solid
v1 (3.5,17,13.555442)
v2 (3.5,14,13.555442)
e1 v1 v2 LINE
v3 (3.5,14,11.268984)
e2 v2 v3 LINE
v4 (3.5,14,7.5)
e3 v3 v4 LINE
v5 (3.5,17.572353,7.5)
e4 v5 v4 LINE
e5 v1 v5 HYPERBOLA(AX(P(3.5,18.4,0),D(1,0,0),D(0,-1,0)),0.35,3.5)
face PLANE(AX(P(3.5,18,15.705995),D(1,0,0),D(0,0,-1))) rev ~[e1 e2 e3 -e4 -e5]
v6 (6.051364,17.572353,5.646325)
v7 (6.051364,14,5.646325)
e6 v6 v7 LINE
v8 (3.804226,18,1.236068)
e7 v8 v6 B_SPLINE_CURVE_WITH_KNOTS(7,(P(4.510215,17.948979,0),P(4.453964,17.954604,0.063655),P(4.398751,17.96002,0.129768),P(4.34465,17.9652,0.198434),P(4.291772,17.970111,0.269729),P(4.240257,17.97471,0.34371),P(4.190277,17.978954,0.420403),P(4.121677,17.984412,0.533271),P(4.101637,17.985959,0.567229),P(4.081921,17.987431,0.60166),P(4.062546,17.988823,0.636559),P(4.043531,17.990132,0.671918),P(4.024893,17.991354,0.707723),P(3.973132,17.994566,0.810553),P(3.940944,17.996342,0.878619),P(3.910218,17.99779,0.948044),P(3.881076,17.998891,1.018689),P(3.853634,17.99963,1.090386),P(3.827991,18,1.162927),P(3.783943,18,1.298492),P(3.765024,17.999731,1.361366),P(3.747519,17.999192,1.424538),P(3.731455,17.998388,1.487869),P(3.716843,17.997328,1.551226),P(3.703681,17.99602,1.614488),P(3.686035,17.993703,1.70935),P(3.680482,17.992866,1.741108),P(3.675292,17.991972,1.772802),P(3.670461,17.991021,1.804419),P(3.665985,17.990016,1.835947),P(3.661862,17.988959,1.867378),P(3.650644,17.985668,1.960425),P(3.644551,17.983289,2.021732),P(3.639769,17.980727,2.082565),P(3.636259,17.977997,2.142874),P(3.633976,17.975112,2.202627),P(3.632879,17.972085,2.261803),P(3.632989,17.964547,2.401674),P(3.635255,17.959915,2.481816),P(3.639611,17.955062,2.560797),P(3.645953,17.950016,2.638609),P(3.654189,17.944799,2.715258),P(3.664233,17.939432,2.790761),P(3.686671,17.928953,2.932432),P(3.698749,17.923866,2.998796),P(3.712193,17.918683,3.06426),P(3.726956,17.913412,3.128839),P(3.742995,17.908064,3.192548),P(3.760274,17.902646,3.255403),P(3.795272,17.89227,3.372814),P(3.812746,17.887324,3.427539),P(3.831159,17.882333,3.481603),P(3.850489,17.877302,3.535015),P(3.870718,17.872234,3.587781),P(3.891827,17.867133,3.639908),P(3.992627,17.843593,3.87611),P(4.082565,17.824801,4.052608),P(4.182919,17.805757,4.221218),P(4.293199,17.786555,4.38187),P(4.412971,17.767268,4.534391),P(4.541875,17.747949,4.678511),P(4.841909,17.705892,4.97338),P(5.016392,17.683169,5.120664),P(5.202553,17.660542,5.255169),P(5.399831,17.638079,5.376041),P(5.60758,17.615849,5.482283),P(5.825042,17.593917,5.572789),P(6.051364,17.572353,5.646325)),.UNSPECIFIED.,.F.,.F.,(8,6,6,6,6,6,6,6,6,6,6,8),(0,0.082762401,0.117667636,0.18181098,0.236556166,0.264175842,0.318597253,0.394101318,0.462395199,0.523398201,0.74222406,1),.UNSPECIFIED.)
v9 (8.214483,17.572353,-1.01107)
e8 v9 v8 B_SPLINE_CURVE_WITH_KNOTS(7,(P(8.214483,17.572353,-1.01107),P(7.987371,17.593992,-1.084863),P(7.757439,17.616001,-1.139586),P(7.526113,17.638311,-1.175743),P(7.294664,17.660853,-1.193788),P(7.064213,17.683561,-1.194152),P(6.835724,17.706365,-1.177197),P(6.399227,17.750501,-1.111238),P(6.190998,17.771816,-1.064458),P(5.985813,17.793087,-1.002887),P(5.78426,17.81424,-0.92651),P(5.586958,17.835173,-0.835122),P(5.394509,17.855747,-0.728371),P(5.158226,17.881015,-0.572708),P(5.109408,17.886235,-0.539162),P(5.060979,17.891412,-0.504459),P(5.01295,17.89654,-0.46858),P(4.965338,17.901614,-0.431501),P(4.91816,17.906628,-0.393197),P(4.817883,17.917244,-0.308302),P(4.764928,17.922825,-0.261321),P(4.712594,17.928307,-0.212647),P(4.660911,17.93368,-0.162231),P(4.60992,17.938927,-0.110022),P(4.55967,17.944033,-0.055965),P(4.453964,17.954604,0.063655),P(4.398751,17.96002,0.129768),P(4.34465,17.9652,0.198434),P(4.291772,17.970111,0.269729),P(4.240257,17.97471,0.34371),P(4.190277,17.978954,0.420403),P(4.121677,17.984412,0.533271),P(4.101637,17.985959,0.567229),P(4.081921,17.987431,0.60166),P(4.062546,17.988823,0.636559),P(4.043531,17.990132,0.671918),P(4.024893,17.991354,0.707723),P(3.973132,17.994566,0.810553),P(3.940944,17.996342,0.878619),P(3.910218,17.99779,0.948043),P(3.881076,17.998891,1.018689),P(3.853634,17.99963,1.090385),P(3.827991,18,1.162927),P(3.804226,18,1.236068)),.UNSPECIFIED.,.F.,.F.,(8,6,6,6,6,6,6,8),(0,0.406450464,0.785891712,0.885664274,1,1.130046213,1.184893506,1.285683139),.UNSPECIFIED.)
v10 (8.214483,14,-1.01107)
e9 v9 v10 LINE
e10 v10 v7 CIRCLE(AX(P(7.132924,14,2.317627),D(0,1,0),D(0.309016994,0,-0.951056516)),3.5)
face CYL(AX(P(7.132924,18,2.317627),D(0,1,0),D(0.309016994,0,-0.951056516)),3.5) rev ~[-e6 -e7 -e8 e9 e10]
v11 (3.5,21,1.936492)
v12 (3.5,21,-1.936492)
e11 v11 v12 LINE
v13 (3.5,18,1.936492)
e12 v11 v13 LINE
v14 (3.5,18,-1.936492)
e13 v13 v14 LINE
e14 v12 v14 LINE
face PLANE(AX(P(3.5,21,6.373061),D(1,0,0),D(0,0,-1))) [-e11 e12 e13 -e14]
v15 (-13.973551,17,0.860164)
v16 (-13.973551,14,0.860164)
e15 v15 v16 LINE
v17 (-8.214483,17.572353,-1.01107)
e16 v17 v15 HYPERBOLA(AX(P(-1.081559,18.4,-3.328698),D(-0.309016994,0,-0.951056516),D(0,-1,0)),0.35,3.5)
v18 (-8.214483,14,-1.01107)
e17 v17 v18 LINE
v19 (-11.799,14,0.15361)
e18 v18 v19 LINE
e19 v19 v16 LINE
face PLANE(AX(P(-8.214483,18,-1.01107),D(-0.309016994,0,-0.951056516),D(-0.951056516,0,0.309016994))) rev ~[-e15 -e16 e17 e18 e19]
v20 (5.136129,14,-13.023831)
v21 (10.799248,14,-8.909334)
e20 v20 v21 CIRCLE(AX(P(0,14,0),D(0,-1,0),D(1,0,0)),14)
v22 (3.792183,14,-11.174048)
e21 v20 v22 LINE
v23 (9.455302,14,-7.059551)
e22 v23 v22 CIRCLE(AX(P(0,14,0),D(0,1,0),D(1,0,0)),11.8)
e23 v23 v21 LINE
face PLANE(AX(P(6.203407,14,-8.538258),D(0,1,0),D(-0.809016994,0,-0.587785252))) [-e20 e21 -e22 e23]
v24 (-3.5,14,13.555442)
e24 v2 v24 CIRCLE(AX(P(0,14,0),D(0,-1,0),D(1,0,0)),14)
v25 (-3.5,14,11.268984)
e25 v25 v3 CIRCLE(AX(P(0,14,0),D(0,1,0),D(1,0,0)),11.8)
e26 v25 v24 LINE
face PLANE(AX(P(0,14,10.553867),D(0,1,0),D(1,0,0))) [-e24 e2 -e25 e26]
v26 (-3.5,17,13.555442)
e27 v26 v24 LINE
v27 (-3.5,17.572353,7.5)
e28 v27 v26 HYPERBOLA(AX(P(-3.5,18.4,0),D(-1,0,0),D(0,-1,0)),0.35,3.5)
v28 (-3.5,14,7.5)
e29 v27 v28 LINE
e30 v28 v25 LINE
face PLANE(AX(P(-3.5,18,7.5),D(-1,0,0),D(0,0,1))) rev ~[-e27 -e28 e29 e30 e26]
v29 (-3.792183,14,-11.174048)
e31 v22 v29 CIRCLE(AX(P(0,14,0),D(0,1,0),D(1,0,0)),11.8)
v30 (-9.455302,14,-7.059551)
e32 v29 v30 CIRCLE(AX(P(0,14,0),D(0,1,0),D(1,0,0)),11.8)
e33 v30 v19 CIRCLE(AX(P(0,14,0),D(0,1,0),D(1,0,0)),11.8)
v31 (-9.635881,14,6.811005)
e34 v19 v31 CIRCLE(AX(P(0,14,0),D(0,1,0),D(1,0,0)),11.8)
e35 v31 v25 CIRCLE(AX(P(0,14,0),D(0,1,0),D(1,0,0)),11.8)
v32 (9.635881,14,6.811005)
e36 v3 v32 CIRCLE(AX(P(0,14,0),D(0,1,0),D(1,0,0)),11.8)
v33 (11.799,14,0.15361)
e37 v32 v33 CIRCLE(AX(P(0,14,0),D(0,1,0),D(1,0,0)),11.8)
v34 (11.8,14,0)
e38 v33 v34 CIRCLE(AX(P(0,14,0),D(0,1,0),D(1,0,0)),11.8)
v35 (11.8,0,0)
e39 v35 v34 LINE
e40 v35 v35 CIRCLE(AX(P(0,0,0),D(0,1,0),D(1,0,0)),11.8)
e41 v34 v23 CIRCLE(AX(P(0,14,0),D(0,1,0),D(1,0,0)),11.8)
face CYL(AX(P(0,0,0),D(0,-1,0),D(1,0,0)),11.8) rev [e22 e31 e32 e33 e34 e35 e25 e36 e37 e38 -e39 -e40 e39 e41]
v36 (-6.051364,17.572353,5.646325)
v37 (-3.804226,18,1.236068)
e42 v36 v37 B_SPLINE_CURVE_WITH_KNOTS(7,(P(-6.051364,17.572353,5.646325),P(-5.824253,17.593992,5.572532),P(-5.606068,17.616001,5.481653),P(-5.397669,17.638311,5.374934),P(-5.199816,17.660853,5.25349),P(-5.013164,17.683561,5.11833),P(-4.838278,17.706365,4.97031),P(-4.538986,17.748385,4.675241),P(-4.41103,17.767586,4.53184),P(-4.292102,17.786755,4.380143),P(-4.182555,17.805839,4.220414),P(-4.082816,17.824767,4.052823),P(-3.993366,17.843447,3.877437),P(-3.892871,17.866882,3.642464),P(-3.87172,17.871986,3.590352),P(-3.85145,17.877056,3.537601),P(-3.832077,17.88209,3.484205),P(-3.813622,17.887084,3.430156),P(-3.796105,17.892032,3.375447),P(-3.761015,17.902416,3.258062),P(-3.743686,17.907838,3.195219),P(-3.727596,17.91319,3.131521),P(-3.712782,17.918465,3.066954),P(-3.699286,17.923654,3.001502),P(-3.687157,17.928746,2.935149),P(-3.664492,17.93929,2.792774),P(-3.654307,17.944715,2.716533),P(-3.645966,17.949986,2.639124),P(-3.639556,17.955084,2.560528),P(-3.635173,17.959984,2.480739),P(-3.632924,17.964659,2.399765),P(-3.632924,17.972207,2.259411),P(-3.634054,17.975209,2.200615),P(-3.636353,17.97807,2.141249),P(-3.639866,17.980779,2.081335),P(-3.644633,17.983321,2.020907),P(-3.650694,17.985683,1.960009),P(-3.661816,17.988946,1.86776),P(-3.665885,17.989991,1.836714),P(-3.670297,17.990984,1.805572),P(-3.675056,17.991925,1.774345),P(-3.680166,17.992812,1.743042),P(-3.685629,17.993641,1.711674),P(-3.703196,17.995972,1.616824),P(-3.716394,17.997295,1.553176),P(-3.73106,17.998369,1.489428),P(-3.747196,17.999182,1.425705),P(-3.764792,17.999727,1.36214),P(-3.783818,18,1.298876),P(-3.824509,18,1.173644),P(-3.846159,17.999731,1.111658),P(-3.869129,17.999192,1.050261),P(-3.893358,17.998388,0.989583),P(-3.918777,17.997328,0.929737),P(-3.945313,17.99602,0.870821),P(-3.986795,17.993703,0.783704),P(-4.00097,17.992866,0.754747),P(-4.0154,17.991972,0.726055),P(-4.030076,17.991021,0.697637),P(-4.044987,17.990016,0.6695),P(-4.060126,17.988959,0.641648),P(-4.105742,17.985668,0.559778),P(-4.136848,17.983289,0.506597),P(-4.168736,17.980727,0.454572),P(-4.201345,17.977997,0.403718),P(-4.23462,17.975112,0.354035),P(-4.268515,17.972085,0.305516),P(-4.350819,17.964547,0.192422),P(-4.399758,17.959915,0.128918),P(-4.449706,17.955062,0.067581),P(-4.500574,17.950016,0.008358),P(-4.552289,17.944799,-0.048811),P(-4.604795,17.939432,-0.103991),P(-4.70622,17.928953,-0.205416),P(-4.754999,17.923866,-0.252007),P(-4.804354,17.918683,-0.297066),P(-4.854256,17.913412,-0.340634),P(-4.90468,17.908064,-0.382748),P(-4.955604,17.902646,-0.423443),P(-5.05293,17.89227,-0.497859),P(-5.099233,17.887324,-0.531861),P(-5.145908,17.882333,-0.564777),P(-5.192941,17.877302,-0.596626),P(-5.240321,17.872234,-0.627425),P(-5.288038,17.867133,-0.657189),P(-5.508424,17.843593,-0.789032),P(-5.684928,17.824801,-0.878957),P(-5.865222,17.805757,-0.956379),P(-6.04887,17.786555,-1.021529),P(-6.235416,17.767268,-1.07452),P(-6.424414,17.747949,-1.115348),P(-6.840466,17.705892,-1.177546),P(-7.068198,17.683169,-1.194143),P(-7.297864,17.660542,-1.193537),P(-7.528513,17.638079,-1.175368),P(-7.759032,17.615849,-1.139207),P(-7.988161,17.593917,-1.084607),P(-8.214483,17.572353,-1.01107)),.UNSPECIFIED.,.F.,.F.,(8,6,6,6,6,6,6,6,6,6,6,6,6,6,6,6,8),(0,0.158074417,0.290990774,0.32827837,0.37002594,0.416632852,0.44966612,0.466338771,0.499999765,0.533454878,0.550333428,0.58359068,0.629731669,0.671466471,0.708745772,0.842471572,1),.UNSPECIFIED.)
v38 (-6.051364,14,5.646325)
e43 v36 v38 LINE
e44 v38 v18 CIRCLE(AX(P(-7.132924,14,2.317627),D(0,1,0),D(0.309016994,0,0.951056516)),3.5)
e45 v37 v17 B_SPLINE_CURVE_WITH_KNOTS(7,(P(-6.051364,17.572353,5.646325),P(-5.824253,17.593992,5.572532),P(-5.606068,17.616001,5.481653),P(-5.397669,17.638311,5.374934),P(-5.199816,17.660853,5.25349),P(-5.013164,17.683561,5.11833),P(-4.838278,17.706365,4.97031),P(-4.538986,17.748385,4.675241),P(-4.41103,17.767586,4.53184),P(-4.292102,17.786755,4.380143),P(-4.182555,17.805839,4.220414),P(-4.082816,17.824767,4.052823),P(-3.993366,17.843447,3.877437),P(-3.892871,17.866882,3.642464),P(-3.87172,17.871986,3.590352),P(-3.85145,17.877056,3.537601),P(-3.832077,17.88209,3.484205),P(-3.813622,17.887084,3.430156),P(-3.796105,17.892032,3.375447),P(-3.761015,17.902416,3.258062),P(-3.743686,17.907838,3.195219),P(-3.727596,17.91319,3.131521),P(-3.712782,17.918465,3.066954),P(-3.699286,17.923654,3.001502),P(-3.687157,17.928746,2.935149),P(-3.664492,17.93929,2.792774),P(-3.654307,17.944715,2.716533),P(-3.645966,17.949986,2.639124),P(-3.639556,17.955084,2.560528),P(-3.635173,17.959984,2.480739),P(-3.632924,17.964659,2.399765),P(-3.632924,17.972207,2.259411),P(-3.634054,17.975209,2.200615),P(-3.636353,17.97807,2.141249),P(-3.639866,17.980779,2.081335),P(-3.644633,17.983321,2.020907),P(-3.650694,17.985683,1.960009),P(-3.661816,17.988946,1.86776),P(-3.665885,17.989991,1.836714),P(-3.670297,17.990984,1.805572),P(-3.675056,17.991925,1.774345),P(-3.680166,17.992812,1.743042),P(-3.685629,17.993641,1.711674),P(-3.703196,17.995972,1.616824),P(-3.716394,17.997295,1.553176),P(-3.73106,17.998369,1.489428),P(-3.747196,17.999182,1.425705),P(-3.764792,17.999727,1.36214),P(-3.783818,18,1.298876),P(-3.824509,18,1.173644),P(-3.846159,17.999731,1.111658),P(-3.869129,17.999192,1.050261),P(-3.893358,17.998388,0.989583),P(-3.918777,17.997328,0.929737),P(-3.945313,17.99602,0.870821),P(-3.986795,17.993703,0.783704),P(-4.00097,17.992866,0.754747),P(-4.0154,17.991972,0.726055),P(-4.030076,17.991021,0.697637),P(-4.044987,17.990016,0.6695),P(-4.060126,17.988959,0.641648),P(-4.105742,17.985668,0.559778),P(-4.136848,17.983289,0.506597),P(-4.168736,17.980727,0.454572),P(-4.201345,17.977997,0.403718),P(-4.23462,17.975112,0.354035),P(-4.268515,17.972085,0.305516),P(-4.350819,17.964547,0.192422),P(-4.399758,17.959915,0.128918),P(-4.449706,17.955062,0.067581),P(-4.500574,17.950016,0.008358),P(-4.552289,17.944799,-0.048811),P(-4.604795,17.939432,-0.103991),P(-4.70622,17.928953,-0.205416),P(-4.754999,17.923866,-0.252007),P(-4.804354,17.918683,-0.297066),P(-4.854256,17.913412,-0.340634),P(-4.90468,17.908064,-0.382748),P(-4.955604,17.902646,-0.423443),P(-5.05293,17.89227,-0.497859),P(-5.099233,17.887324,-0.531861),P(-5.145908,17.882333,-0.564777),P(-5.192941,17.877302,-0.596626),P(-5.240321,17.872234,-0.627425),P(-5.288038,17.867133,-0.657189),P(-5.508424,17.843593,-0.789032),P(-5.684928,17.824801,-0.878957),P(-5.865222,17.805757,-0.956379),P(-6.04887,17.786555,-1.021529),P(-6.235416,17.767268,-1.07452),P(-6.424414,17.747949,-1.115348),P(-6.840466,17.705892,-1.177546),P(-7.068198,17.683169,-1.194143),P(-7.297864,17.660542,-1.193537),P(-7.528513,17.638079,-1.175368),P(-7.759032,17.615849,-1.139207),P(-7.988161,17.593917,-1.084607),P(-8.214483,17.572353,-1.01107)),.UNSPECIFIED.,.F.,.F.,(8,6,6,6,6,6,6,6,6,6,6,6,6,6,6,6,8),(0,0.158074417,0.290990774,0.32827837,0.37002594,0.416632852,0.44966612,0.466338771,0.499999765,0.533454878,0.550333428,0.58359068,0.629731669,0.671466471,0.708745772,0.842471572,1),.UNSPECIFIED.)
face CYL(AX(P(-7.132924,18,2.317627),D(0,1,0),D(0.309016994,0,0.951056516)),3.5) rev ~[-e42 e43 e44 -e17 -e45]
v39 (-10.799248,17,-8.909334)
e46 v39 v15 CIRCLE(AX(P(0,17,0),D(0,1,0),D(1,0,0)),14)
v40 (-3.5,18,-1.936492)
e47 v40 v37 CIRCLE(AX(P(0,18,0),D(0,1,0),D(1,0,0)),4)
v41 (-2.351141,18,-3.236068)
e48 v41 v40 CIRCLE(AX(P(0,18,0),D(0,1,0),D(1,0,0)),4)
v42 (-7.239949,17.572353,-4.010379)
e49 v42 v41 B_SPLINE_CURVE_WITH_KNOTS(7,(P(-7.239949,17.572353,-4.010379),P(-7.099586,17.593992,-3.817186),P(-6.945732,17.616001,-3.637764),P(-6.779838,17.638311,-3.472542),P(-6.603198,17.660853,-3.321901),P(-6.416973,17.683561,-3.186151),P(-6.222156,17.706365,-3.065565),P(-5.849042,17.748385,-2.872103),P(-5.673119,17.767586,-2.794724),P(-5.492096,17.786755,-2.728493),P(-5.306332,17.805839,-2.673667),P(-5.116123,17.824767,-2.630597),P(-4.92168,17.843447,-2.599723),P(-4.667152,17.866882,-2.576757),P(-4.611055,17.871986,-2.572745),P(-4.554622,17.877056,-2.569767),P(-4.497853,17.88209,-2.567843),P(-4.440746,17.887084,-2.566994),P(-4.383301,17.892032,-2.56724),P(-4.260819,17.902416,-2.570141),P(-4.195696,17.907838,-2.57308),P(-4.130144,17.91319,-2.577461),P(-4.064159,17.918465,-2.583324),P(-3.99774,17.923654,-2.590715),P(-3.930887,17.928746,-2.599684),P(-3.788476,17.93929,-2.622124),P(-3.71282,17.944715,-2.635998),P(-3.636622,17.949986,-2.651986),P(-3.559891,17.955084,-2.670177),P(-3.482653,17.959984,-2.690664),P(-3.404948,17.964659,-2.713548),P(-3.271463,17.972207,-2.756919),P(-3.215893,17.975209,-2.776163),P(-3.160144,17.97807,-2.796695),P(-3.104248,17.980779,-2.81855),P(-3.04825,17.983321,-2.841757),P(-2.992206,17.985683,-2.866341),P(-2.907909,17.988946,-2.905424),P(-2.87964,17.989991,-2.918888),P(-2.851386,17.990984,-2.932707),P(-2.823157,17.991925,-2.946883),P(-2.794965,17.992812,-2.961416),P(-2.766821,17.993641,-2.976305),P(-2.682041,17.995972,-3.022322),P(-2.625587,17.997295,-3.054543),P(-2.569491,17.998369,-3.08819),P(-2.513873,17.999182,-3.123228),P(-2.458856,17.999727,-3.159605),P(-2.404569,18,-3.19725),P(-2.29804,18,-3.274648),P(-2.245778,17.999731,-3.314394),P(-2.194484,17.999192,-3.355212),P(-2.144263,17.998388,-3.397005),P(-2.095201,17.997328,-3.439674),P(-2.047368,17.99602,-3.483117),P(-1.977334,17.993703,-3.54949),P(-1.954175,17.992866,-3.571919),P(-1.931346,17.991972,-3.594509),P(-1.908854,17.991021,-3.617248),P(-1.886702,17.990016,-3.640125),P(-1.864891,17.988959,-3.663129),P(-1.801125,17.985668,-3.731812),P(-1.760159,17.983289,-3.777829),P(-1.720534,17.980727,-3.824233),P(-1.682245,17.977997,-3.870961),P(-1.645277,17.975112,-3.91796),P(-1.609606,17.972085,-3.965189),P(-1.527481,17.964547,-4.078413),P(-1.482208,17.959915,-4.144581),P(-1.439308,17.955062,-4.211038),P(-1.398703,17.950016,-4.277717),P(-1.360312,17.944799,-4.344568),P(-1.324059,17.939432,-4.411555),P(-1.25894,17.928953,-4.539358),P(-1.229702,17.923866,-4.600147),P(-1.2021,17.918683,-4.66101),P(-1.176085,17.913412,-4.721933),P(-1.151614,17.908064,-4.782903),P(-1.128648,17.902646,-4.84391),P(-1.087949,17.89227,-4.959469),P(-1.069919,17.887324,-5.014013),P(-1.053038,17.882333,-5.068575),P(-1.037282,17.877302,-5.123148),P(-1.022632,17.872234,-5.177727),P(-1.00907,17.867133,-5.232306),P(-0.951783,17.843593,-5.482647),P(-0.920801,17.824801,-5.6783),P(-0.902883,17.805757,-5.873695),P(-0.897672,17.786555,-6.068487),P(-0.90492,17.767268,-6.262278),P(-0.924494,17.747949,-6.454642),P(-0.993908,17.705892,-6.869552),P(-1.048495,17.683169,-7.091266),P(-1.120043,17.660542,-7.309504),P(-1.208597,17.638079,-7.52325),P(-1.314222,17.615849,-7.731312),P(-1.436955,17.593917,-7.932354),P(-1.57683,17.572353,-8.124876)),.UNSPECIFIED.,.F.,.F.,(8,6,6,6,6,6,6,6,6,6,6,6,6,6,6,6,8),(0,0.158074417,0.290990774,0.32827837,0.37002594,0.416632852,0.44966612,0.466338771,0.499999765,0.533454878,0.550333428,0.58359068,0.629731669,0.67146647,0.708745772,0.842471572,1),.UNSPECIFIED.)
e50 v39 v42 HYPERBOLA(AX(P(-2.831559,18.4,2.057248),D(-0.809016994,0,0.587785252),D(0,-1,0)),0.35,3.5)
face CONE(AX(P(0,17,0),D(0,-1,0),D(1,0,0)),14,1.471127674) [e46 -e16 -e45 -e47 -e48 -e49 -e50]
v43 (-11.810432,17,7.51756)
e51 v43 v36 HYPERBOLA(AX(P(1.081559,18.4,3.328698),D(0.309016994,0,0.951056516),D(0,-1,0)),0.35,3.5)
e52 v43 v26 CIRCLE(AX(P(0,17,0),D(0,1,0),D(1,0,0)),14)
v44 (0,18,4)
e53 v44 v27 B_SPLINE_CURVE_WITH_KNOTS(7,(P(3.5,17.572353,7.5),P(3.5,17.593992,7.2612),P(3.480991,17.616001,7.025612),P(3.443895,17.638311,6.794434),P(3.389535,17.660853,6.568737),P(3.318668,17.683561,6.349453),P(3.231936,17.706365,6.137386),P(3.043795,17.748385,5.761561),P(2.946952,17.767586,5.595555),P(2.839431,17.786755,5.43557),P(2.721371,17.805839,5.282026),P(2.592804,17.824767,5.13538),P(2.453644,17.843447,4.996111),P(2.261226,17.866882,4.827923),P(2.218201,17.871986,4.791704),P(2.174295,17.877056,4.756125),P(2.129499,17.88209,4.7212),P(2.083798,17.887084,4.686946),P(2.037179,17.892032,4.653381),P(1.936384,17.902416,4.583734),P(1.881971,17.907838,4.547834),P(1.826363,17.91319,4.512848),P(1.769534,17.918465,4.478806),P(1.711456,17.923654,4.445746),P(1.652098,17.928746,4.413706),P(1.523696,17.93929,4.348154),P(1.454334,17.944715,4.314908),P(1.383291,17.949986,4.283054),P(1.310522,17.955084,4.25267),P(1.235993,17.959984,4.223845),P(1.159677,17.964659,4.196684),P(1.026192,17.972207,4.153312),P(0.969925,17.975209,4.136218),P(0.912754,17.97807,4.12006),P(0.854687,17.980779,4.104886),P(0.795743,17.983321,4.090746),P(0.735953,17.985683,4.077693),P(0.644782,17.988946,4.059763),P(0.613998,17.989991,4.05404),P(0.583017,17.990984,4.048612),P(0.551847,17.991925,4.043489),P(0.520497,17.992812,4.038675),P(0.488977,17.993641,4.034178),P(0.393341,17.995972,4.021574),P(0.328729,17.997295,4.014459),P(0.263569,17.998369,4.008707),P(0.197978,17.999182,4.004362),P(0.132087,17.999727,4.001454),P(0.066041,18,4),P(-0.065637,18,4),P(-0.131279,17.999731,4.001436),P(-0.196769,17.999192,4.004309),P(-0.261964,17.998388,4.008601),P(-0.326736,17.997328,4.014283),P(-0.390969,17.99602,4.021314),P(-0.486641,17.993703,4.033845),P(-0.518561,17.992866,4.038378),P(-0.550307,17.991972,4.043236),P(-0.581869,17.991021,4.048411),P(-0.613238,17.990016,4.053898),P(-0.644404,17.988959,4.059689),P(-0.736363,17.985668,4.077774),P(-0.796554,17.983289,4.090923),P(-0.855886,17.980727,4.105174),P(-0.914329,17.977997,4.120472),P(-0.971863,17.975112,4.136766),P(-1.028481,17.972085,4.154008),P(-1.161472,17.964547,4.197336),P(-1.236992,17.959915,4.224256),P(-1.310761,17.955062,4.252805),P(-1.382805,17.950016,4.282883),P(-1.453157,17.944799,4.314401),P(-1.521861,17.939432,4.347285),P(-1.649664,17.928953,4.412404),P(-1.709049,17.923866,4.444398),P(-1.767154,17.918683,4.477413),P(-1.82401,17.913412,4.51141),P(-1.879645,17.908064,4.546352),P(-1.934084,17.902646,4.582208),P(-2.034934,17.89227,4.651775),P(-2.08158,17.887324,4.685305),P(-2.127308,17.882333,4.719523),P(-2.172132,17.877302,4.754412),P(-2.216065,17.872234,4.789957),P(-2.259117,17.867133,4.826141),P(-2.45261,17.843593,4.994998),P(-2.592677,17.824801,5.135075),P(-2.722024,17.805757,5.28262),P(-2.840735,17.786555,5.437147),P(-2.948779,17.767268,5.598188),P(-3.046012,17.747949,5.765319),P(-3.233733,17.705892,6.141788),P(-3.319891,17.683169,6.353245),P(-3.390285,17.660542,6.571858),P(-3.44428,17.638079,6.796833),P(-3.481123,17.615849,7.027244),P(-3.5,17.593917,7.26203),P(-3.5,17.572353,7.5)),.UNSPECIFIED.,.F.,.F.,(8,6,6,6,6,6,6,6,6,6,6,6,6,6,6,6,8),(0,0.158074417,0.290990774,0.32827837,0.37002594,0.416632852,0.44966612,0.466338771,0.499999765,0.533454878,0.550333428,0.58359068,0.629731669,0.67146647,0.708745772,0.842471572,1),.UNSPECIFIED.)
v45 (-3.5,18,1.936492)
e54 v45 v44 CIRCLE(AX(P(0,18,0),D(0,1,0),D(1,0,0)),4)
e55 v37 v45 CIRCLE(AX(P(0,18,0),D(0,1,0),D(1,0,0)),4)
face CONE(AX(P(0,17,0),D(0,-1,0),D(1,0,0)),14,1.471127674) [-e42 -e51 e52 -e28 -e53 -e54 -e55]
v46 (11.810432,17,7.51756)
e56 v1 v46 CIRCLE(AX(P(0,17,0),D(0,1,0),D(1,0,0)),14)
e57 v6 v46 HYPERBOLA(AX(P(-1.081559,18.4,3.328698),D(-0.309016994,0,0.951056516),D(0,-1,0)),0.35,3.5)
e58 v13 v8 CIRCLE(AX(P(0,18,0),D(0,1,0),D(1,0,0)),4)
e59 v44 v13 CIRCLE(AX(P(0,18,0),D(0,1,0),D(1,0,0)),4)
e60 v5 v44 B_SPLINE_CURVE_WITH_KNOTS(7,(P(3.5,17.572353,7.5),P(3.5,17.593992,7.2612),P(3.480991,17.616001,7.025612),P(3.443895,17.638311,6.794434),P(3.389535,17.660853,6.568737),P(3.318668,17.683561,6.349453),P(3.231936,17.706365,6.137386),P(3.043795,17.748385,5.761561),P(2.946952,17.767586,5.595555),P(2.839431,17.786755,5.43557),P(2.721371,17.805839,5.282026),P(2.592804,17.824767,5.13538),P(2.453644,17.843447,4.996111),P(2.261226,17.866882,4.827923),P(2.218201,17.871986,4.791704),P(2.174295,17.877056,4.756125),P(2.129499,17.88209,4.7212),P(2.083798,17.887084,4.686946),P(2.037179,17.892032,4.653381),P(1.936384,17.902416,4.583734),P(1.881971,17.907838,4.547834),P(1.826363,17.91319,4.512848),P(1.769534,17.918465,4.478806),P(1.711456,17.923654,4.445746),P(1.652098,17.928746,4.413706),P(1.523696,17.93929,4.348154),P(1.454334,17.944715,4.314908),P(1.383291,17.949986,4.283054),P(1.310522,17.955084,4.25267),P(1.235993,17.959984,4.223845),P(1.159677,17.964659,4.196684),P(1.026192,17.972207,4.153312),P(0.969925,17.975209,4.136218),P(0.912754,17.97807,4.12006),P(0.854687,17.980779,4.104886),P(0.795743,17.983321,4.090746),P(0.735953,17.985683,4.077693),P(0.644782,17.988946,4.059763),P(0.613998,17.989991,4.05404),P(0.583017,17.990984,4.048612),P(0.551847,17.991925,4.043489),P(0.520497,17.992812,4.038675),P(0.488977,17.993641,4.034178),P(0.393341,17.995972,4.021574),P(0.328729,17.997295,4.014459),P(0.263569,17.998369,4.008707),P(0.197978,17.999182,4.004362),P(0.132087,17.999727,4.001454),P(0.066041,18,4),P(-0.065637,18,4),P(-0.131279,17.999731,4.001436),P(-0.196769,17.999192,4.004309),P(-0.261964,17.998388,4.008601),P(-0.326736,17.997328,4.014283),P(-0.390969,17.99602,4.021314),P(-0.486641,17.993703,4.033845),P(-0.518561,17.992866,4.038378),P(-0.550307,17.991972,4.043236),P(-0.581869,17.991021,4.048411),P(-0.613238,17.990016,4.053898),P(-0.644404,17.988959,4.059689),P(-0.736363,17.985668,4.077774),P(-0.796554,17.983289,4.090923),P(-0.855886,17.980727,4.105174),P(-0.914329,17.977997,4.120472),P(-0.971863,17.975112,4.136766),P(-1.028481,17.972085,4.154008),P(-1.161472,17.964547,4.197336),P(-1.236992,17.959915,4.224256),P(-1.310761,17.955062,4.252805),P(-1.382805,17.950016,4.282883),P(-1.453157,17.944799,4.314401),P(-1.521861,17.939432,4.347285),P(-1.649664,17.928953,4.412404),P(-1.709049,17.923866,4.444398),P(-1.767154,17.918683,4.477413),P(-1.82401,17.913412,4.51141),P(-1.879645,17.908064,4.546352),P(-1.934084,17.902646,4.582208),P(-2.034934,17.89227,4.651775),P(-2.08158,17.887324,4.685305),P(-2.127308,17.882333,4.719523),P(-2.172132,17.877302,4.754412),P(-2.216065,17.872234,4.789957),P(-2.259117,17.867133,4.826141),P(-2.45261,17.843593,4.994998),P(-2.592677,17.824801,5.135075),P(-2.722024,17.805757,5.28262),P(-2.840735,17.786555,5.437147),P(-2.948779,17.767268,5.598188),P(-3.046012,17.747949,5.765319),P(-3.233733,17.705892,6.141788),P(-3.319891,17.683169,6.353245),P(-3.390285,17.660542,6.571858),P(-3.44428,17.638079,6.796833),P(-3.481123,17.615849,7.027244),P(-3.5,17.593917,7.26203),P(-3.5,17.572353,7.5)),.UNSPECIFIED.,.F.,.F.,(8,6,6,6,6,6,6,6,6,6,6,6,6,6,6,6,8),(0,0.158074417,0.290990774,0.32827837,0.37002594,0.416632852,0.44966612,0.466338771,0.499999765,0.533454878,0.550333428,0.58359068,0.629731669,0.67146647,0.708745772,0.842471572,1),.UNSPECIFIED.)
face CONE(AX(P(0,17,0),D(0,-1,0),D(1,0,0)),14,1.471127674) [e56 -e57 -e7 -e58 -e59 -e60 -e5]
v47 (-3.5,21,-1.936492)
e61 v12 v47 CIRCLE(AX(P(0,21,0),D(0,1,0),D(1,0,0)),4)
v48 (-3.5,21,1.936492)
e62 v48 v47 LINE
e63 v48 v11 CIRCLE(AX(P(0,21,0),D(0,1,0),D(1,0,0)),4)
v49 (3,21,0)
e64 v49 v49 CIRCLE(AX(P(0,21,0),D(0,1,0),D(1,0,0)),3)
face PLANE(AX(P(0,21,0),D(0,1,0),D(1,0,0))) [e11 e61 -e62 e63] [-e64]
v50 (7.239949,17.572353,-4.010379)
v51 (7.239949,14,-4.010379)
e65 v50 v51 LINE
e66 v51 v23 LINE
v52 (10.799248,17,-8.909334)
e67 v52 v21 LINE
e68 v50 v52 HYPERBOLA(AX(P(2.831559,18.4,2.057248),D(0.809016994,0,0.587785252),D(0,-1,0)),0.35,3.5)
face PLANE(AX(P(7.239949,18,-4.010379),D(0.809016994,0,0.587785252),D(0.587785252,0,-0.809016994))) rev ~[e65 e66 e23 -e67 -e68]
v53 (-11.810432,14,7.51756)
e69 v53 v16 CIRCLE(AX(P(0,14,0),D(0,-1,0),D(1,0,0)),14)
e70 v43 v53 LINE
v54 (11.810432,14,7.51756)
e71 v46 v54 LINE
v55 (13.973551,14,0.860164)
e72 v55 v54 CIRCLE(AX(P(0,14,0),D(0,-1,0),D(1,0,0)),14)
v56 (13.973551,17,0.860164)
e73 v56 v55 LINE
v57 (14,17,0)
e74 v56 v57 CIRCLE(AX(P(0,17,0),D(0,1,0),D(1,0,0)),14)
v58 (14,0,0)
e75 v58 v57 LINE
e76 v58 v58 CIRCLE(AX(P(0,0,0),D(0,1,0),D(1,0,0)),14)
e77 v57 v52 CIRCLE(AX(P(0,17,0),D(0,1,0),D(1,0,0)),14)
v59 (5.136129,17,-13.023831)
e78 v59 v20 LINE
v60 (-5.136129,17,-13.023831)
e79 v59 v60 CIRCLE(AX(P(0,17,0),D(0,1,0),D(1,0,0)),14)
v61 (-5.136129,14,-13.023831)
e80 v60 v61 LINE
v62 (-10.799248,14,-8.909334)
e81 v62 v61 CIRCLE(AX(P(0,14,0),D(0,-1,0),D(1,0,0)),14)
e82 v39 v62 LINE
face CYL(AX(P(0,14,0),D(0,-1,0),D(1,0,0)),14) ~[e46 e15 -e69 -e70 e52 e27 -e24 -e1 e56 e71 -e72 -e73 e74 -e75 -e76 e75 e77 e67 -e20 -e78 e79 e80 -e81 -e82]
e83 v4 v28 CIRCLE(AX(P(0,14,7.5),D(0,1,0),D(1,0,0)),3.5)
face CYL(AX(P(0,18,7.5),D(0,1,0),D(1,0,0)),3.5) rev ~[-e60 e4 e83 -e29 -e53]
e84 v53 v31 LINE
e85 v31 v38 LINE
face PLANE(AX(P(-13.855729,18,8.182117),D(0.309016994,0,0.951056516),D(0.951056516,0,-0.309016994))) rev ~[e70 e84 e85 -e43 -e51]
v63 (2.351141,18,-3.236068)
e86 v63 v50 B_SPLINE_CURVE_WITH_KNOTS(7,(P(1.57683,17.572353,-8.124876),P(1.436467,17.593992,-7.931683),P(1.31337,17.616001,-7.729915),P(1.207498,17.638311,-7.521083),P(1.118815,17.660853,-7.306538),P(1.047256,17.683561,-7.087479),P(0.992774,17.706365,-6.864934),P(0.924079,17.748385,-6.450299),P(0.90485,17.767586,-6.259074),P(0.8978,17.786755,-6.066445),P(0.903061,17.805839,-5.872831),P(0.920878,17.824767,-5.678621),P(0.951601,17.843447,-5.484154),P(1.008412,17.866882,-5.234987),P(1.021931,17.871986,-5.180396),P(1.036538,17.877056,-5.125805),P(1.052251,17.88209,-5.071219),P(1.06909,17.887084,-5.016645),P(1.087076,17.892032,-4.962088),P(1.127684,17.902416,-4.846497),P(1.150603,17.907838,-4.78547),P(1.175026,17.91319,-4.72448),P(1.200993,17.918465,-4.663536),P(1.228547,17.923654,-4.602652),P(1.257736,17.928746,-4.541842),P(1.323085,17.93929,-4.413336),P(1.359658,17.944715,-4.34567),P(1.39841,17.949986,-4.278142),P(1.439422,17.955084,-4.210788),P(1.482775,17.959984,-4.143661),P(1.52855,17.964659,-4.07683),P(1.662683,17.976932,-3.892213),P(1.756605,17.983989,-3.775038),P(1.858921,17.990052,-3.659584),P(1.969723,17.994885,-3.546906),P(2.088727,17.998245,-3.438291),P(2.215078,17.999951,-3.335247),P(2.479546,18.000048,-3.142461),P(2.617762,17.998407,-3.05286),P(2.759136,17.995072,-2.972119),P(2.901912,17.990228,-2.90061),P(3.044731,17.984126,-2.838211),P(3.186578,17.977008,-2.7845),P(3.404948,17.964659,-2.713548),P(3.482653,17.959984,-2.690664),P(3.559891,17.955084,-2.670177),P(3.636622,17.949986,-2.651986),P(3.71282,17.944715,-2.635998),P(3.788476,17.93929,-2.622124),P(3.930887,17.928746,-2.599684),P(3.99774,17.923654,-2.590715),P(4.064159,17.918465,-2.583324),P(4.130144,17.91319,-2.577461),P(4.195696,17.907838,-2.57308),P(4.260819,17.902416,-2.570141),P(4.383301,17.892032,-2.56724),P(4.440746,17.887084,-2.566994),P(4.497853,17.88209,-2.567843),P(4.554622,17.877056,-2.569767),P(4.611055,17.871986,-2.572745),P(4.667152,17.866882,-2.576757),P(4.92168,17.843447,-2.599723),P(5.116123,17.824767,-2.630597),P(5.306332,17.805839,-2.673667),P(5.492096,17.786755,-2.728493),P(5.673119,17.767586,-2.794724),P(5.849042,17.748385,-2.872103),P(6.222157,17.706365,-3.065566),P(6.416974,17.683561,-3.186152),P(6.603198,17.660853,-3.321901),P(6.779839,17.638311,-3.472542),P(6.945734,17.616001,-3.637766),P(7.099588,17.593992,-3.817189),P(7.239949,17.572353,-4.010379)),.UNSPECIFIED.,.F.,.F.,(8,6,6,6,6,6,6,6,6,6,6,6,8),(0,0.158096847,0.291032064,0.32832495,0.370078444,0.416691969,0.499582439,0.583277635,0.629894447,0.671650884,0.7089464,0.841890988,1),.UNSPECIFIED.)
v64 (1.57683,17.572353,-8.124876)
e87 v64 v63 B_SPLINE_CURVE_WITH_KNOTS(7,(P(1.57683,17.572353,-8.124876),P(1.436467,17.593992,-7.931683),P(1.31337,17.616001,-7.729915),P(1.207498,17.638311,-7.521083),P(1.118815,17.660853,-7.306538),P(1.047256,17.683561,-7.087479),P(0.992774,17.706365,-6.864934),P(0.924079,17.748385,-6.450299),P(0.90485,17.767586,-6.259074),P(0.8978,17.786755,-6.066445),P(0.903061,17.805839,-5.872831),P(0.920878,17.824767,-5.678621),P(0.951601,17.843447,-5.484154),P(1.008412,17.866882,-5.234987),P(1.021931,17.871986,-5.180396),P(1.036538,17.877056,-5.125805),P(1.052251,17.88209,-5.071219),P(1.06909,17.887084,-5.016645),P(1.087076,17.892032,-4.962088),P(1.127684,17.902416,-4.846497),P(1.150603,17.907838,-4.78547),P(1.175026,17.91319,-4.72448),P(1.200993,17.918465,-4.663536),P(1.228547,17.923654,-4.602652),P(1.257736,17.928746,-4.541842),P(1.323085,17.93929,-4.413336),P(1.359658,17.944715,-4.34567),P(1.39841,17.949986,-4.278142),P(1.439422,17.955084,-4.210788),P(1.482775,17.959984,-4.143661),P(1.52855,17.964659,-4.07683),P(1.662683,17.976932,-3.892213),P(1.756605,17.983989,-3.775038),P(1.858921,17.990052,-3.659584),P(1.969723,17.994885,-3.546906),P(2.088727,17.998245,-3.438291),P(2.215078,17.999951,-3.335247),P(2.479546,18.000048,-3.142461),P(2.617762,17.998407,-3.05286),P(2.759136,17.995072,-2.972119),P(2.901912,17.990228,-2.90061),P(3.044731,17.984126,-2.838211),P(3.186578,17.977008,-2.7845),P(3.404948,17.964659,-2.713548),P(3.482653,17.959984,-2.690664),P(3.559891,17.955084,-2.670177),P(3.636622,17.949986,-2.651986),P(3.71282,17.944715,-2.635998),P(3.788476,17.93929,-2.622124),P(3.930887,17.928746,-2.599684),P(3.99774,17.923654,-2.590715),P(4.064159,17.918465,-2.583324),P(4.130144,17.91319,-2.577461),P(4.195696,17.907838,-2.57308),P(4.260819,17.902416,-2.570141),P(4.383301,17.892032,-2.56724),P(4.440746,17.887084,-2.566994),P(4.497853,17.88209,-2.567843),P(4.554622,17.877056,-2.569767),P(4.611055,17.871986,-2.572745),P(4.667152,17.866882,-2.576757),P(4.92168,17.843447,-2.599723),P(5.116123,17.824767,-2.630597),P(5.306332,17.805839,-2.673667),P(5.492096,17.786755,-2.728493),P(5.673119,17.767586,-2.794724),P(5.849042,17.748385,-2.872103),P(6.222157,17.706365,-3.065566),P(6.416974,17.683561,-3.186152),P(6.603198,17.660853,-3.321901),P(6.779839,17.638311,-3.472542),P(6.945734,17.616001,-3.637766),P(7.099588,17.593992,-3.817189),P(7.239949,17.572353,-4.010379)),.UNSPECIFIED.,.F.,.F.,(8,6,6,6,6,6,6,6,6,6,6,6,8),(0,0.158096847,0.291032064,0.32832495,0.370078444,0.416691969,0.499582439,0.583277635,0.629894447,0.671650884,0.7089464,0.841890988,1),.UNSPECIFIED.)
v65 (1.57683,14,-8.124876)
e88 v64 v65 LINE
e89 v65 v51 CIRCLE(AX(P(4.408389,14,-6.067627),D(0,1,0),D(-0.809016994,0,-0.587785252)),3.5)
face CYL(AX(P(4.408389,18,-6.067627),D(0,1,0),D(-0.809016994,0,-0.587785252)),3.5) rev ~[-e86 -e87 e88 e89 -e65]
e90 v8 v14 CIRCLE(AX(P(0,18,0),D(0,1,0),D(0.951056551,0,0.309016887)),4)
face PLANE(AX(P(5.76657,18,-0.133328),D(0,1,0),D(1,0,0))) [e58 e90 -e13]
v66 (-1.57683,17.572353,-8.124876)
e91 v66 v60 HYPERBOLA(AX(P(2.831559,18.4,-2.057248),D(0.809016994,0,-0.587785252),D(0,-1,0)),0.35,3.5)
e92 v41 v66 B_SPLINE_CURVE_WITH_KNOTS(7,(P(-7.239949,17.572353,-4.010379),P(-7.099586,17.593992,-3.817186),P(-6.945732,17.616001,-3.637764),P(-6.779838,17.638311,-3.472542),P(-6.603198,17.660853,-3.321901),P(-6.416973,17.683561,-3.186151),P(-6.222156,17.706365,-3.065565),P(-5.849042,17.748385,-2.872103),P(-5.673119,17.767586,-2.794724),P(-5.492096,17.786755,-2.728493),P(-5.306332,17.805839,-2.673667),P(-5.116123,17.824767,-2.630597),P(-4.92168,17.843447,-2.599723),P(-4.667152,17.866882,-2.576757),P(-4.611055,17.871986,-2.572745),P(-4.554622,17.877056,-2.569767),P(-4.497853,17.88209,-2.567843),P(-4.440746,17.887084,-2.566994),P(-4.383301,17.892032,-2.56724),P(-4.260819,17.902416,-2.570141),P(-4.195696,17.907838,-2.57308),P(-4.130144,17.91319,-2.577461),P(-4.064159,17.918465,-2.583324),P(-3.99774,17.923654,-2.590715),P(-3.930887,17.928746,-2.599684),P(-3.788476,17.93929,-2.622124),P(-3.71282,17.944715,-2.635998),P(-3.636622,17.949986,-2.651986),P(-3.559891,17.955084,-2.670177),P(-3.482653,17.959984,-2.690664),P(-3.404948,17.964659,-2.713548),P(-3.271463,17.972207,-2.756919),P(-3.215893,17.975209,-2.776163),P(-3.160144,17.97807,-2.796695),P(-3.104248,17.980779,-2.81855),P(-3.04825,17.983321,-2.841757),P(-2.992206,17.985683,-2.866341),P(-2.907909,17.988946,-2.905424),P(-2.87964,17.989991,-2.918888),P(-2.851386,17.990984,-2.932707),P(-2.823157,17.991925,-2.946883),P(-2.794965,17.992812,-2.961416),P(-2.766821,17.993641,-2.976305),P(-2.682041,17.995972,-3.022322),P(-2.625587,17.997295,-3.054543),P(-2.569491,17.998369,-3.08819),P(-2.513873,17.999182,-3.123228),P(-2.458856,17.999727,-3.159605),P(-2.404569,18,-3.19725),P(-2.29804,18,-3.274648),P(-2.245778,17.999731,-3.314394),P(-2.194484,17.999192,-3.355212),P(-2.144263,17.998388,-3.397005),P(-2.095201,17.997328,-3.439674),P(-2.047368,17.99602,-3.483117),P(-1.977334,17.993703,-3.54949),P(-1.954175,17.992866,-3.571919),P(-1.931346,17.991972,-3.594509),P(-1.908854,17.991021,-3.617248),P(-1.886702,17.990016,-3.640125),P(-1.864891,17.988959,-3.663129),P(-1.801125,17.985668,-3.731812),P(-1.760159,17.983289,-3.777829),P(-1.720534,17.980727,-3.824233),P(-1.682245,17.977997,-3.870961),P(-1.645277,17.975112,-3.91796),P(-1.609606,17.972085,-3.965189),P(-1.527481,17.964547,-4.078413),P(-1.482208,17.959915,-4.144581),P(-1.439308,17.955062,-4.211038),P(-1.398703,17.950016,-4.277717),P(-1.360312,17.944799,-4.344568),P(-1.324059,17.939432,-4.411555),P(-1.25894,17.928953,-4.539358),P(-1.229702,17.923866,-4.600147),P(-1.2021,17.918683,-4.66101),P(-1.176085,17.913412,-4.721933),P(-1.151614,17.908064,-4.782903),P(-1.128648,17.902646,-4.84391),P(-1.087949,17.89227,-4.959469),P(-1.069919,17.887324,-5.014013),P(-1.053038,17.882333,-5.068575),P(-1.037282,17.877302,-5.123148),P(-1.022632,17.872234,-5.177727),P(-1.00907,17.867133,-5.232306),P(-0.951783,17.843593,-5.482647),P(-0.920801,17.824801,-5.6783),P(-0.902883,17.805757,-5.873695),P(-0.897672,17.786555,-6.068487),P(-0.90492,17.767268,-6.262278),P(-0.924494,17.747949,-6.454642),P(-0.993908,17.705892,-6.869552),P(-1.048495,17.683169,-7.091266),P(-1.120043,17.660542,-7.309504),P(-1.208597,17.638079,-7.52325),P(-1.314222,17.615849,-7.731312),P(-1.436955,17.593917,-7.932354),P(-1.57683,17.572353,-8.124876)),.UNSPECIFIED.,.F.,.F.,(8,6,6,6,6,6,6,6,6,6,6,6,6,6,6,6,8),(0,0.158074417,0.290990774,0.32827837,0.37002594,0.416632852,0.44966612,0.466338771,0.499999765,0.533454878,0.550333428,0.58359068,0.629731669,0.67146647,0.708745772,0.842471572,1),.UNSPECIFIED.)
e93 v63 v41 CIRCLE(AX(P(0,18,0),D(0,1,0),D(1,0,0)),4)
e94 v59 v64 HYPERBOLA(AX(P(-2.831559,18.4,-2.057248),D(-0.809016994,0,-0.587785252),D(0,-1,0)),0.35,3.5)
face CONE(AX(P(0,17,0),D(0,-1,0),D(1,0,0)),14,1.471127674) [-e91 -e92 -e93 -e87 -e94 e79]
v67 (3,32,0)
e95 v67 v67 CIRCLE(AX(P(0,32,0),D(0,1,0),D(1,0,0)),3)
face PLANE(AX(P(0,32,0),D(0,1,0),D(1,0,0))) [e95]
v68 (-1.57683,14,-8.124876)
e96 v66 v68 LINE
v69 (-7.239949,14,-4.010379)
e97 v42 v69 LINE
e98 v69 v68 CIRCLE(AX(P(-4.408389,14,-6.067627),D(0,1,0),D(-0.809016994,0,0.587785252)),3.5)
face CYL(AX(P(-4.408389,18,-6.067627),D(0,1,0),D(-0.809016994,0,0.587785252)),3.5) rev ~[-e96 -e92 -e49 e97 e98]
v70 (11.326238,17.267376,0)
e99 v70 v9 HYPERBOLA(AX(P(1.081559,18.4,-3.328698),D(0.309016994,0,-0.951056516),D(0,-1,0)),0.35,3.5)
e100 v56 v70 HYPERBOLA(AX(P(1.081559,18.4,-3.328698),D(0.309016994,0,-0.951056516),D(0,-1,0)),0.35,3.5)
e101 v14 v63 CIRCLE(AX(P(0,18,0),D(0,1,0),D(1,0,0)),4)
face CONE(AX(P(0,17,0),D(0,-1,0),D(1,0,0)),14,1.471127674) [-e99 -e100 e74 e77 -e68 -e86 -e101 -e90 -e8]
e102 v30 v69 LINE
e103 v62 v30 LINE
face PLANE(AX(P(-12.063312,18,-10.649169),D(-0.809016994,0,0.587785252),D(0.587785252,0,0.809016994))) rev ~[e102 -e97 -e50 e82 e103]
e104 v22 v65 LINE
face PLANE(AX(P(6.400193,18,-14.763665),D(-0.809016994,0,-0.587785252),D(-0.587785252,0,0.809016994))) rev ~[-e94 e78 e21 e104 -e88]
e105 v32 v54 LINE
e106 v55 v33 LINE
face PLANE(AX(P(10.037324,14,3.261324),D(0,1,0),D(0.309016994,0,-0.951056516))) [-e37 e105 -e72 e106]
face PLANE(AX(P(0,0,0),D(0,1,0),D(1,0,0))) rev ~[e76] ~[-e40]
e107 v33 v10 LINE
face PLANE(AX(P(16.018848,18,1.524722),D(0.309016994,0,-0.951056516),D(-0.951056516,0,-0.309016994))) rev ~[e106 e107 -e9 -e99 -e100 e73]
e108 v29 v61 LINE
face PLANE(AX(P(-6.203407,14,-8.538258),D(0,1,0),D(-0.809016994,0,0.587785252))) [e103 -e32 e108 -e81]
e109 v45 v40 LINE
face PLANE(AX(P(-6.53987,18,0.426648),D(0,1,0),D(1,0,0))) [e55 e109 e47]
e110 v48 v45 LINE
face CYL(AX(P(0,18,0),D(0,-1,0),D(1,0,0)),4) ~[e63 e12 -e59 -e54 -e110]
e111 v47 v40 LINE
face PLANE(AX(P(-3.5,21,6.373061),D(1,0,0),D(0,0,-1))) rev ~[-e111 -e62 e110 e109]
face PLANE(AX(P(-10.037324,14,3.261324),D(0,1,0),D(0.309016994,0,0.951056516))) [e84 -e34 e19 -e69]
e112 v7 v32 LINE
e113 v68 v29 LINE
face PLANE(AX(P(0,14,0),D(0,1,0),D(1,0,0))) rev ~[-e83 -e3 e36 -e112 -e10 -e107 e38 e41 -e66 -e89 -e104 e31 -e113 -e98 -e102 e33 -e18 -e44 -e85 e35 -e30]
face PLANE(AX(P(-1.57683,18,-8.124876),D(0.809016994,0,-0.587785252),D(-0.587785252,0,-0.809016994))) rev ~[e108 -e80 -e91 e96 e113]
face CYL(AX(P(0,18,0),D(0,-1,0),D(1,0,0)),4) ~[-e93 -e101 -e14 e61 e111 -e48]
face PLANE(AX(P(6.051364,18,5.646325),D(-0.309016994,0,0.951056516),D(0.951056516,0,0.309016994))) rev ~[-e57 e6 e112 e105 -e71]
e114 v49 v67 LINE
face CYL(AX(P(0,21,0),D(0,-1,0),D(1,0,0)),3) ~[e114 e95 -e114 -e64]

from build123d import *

# Parameters (mm, degrees)
SKETCH_1_R               = 14
SKETCH_1_R_2             = 11.8
EXTRUDE_1_DEPTH          = 14
SKETCH_2_R               = 14
EXTRUDE_2_DEPTH          = 4
CHAMFER_1_SIZE           = 1
CHAMFER_1_SIZE2          = 10
SKETCH_3_R               = 4
EXTRUDE_3_DEPTH          = 3
SKETCH_4_R               = 3
EXTRUDE_4_DEPTH          = 11
SKETCH_5_W               = 6.079740031
SKETCH_5_H               = 11.892824797
SKETCH_5_W_2             = 4.533139496
SKETCH_5_H_2             = 13.012776908
CUT_EXTRUDE_1_DEPTH      = 3
CUT_EXTRUDE_2_DEPTH      = 4
PATTERN_CIRCULAR_1_COUNT = 5


with BuildPart() as part:
    # Эскиз1 → Бобышка-Вытянуть1 (new body)
    with BuildSketch(Plane(origin=(0, 0, 0), x_dir=(1, 0, 0), z_dir=(0, 1, 0))):
        Circle(SKETCH_1_R)
        Circle(SKETCH_1_R_2, mode=Mode.SUBTRACT)
    extrude(amount=EXTRUDE_1_DEPTH)

    # Эскиз2 → Бобышка-Вытянуть2 (add)
    with BuildSketch(Plane(origin=(0, 14, 0), x_dir=(1, 0, 0), z_dir=(0, 1, 0))):
        Circle(SKETCH_2_R)
    extrude(amount=EXTRUDE_2_DEPTH)

    # Фаска1
    chamfer_1_edges = [part.edges().sort_by_distance(p)[0] for p in [
        (-14, 18, 0),
    ]]
    chamfer_1_side = [part.faces().sort_by_distance(p)[0] for p in [
        (-14, 9, 0),
    ]]
    chamfer(chamfer_1_edges, length=CHAMFER_1_SIZE, length2=CHAMFER_1_SIZE2, reference=chamfer_1_side[0])

    # Эскиз3 → Бобышка-Вытянуть3 (add)
    with BuildSketch(Plane(origin=(0, 18, 0), x_dir=(1, 0, 0), z_dir=(0, 1, 0))):
        Circle(SKETCH_3_R)
    extrude(amount=EXTRUDE_3_DEPTH)

    # Эскиз4 → Бобышка-Вытянуть4 (add)
    with BuildSketch(Plane(origin=(0, 21, 0), x_dir=(1, 0, 0), z_dir=(0, 1, 0))):
        Circle(SKETCH_4_R)
    extrude(amount=EXTRUDE_4_DEPTH)

    # Эскиз5 → Вырез-Вытянуть1 (cut)
    with BuildSketch(Plane(origin=(0, 21, 0), x_dir=(1, 0, 0), z_dir=(0, 1, 0))):
        with Locations((-6.539870016, -0.426648424)):
            Rectangle(SKETCH_5_W, SKETCH_5_H)
        with Locations((5.766569748, 0.133327632)):
            Rectangle(SKETCH_5_W_2, SKETCH_5_H_2)
    extrude(amount=-CUT_EXTRUDE_1_DEPTH, mode=Mode.SUBTRACT)

    # Эскиз6 → Вырез-Вытянуть2 (cut)
    with BuildSketch(Plane(origin=(0, 18, 0), x_dir=(1, 0, 0), z_dir=(0, 1, 0))):
        with BuildLine():
            Line((-3.5, -7.5), (-3.5, -15.705995079))
            Line((-3.5, -15.705995079), (3.5, -15.705995079))
            Line((3.5, -15.705995079), (3.5, -7.5))
            ThreePointArc((3.5, -7.5), (0, -4), (-3.5, -7.5))
        make_face()
    cut_extrude_2 = extrude(amount=-CUT_EXTRUDE_2_DEPTH, mode=Mode.SUBTRACT)

    # Круговой массив1: Вырез-Вытянуть2 ×5 about axis
    pattern_circular_1_axis = Axis((0, 0, 0), (0, 1, 0))
    for i in range(1, PATTERN_CIRCULAR_1_COUNT):
        add(cut_extrude_2.rotate(pattern_circular_1_axis, i * 360 / PATTERN_CIRCULAR_1_COUNT), mode=Mode.SUBTRACT)


solid = part.part
